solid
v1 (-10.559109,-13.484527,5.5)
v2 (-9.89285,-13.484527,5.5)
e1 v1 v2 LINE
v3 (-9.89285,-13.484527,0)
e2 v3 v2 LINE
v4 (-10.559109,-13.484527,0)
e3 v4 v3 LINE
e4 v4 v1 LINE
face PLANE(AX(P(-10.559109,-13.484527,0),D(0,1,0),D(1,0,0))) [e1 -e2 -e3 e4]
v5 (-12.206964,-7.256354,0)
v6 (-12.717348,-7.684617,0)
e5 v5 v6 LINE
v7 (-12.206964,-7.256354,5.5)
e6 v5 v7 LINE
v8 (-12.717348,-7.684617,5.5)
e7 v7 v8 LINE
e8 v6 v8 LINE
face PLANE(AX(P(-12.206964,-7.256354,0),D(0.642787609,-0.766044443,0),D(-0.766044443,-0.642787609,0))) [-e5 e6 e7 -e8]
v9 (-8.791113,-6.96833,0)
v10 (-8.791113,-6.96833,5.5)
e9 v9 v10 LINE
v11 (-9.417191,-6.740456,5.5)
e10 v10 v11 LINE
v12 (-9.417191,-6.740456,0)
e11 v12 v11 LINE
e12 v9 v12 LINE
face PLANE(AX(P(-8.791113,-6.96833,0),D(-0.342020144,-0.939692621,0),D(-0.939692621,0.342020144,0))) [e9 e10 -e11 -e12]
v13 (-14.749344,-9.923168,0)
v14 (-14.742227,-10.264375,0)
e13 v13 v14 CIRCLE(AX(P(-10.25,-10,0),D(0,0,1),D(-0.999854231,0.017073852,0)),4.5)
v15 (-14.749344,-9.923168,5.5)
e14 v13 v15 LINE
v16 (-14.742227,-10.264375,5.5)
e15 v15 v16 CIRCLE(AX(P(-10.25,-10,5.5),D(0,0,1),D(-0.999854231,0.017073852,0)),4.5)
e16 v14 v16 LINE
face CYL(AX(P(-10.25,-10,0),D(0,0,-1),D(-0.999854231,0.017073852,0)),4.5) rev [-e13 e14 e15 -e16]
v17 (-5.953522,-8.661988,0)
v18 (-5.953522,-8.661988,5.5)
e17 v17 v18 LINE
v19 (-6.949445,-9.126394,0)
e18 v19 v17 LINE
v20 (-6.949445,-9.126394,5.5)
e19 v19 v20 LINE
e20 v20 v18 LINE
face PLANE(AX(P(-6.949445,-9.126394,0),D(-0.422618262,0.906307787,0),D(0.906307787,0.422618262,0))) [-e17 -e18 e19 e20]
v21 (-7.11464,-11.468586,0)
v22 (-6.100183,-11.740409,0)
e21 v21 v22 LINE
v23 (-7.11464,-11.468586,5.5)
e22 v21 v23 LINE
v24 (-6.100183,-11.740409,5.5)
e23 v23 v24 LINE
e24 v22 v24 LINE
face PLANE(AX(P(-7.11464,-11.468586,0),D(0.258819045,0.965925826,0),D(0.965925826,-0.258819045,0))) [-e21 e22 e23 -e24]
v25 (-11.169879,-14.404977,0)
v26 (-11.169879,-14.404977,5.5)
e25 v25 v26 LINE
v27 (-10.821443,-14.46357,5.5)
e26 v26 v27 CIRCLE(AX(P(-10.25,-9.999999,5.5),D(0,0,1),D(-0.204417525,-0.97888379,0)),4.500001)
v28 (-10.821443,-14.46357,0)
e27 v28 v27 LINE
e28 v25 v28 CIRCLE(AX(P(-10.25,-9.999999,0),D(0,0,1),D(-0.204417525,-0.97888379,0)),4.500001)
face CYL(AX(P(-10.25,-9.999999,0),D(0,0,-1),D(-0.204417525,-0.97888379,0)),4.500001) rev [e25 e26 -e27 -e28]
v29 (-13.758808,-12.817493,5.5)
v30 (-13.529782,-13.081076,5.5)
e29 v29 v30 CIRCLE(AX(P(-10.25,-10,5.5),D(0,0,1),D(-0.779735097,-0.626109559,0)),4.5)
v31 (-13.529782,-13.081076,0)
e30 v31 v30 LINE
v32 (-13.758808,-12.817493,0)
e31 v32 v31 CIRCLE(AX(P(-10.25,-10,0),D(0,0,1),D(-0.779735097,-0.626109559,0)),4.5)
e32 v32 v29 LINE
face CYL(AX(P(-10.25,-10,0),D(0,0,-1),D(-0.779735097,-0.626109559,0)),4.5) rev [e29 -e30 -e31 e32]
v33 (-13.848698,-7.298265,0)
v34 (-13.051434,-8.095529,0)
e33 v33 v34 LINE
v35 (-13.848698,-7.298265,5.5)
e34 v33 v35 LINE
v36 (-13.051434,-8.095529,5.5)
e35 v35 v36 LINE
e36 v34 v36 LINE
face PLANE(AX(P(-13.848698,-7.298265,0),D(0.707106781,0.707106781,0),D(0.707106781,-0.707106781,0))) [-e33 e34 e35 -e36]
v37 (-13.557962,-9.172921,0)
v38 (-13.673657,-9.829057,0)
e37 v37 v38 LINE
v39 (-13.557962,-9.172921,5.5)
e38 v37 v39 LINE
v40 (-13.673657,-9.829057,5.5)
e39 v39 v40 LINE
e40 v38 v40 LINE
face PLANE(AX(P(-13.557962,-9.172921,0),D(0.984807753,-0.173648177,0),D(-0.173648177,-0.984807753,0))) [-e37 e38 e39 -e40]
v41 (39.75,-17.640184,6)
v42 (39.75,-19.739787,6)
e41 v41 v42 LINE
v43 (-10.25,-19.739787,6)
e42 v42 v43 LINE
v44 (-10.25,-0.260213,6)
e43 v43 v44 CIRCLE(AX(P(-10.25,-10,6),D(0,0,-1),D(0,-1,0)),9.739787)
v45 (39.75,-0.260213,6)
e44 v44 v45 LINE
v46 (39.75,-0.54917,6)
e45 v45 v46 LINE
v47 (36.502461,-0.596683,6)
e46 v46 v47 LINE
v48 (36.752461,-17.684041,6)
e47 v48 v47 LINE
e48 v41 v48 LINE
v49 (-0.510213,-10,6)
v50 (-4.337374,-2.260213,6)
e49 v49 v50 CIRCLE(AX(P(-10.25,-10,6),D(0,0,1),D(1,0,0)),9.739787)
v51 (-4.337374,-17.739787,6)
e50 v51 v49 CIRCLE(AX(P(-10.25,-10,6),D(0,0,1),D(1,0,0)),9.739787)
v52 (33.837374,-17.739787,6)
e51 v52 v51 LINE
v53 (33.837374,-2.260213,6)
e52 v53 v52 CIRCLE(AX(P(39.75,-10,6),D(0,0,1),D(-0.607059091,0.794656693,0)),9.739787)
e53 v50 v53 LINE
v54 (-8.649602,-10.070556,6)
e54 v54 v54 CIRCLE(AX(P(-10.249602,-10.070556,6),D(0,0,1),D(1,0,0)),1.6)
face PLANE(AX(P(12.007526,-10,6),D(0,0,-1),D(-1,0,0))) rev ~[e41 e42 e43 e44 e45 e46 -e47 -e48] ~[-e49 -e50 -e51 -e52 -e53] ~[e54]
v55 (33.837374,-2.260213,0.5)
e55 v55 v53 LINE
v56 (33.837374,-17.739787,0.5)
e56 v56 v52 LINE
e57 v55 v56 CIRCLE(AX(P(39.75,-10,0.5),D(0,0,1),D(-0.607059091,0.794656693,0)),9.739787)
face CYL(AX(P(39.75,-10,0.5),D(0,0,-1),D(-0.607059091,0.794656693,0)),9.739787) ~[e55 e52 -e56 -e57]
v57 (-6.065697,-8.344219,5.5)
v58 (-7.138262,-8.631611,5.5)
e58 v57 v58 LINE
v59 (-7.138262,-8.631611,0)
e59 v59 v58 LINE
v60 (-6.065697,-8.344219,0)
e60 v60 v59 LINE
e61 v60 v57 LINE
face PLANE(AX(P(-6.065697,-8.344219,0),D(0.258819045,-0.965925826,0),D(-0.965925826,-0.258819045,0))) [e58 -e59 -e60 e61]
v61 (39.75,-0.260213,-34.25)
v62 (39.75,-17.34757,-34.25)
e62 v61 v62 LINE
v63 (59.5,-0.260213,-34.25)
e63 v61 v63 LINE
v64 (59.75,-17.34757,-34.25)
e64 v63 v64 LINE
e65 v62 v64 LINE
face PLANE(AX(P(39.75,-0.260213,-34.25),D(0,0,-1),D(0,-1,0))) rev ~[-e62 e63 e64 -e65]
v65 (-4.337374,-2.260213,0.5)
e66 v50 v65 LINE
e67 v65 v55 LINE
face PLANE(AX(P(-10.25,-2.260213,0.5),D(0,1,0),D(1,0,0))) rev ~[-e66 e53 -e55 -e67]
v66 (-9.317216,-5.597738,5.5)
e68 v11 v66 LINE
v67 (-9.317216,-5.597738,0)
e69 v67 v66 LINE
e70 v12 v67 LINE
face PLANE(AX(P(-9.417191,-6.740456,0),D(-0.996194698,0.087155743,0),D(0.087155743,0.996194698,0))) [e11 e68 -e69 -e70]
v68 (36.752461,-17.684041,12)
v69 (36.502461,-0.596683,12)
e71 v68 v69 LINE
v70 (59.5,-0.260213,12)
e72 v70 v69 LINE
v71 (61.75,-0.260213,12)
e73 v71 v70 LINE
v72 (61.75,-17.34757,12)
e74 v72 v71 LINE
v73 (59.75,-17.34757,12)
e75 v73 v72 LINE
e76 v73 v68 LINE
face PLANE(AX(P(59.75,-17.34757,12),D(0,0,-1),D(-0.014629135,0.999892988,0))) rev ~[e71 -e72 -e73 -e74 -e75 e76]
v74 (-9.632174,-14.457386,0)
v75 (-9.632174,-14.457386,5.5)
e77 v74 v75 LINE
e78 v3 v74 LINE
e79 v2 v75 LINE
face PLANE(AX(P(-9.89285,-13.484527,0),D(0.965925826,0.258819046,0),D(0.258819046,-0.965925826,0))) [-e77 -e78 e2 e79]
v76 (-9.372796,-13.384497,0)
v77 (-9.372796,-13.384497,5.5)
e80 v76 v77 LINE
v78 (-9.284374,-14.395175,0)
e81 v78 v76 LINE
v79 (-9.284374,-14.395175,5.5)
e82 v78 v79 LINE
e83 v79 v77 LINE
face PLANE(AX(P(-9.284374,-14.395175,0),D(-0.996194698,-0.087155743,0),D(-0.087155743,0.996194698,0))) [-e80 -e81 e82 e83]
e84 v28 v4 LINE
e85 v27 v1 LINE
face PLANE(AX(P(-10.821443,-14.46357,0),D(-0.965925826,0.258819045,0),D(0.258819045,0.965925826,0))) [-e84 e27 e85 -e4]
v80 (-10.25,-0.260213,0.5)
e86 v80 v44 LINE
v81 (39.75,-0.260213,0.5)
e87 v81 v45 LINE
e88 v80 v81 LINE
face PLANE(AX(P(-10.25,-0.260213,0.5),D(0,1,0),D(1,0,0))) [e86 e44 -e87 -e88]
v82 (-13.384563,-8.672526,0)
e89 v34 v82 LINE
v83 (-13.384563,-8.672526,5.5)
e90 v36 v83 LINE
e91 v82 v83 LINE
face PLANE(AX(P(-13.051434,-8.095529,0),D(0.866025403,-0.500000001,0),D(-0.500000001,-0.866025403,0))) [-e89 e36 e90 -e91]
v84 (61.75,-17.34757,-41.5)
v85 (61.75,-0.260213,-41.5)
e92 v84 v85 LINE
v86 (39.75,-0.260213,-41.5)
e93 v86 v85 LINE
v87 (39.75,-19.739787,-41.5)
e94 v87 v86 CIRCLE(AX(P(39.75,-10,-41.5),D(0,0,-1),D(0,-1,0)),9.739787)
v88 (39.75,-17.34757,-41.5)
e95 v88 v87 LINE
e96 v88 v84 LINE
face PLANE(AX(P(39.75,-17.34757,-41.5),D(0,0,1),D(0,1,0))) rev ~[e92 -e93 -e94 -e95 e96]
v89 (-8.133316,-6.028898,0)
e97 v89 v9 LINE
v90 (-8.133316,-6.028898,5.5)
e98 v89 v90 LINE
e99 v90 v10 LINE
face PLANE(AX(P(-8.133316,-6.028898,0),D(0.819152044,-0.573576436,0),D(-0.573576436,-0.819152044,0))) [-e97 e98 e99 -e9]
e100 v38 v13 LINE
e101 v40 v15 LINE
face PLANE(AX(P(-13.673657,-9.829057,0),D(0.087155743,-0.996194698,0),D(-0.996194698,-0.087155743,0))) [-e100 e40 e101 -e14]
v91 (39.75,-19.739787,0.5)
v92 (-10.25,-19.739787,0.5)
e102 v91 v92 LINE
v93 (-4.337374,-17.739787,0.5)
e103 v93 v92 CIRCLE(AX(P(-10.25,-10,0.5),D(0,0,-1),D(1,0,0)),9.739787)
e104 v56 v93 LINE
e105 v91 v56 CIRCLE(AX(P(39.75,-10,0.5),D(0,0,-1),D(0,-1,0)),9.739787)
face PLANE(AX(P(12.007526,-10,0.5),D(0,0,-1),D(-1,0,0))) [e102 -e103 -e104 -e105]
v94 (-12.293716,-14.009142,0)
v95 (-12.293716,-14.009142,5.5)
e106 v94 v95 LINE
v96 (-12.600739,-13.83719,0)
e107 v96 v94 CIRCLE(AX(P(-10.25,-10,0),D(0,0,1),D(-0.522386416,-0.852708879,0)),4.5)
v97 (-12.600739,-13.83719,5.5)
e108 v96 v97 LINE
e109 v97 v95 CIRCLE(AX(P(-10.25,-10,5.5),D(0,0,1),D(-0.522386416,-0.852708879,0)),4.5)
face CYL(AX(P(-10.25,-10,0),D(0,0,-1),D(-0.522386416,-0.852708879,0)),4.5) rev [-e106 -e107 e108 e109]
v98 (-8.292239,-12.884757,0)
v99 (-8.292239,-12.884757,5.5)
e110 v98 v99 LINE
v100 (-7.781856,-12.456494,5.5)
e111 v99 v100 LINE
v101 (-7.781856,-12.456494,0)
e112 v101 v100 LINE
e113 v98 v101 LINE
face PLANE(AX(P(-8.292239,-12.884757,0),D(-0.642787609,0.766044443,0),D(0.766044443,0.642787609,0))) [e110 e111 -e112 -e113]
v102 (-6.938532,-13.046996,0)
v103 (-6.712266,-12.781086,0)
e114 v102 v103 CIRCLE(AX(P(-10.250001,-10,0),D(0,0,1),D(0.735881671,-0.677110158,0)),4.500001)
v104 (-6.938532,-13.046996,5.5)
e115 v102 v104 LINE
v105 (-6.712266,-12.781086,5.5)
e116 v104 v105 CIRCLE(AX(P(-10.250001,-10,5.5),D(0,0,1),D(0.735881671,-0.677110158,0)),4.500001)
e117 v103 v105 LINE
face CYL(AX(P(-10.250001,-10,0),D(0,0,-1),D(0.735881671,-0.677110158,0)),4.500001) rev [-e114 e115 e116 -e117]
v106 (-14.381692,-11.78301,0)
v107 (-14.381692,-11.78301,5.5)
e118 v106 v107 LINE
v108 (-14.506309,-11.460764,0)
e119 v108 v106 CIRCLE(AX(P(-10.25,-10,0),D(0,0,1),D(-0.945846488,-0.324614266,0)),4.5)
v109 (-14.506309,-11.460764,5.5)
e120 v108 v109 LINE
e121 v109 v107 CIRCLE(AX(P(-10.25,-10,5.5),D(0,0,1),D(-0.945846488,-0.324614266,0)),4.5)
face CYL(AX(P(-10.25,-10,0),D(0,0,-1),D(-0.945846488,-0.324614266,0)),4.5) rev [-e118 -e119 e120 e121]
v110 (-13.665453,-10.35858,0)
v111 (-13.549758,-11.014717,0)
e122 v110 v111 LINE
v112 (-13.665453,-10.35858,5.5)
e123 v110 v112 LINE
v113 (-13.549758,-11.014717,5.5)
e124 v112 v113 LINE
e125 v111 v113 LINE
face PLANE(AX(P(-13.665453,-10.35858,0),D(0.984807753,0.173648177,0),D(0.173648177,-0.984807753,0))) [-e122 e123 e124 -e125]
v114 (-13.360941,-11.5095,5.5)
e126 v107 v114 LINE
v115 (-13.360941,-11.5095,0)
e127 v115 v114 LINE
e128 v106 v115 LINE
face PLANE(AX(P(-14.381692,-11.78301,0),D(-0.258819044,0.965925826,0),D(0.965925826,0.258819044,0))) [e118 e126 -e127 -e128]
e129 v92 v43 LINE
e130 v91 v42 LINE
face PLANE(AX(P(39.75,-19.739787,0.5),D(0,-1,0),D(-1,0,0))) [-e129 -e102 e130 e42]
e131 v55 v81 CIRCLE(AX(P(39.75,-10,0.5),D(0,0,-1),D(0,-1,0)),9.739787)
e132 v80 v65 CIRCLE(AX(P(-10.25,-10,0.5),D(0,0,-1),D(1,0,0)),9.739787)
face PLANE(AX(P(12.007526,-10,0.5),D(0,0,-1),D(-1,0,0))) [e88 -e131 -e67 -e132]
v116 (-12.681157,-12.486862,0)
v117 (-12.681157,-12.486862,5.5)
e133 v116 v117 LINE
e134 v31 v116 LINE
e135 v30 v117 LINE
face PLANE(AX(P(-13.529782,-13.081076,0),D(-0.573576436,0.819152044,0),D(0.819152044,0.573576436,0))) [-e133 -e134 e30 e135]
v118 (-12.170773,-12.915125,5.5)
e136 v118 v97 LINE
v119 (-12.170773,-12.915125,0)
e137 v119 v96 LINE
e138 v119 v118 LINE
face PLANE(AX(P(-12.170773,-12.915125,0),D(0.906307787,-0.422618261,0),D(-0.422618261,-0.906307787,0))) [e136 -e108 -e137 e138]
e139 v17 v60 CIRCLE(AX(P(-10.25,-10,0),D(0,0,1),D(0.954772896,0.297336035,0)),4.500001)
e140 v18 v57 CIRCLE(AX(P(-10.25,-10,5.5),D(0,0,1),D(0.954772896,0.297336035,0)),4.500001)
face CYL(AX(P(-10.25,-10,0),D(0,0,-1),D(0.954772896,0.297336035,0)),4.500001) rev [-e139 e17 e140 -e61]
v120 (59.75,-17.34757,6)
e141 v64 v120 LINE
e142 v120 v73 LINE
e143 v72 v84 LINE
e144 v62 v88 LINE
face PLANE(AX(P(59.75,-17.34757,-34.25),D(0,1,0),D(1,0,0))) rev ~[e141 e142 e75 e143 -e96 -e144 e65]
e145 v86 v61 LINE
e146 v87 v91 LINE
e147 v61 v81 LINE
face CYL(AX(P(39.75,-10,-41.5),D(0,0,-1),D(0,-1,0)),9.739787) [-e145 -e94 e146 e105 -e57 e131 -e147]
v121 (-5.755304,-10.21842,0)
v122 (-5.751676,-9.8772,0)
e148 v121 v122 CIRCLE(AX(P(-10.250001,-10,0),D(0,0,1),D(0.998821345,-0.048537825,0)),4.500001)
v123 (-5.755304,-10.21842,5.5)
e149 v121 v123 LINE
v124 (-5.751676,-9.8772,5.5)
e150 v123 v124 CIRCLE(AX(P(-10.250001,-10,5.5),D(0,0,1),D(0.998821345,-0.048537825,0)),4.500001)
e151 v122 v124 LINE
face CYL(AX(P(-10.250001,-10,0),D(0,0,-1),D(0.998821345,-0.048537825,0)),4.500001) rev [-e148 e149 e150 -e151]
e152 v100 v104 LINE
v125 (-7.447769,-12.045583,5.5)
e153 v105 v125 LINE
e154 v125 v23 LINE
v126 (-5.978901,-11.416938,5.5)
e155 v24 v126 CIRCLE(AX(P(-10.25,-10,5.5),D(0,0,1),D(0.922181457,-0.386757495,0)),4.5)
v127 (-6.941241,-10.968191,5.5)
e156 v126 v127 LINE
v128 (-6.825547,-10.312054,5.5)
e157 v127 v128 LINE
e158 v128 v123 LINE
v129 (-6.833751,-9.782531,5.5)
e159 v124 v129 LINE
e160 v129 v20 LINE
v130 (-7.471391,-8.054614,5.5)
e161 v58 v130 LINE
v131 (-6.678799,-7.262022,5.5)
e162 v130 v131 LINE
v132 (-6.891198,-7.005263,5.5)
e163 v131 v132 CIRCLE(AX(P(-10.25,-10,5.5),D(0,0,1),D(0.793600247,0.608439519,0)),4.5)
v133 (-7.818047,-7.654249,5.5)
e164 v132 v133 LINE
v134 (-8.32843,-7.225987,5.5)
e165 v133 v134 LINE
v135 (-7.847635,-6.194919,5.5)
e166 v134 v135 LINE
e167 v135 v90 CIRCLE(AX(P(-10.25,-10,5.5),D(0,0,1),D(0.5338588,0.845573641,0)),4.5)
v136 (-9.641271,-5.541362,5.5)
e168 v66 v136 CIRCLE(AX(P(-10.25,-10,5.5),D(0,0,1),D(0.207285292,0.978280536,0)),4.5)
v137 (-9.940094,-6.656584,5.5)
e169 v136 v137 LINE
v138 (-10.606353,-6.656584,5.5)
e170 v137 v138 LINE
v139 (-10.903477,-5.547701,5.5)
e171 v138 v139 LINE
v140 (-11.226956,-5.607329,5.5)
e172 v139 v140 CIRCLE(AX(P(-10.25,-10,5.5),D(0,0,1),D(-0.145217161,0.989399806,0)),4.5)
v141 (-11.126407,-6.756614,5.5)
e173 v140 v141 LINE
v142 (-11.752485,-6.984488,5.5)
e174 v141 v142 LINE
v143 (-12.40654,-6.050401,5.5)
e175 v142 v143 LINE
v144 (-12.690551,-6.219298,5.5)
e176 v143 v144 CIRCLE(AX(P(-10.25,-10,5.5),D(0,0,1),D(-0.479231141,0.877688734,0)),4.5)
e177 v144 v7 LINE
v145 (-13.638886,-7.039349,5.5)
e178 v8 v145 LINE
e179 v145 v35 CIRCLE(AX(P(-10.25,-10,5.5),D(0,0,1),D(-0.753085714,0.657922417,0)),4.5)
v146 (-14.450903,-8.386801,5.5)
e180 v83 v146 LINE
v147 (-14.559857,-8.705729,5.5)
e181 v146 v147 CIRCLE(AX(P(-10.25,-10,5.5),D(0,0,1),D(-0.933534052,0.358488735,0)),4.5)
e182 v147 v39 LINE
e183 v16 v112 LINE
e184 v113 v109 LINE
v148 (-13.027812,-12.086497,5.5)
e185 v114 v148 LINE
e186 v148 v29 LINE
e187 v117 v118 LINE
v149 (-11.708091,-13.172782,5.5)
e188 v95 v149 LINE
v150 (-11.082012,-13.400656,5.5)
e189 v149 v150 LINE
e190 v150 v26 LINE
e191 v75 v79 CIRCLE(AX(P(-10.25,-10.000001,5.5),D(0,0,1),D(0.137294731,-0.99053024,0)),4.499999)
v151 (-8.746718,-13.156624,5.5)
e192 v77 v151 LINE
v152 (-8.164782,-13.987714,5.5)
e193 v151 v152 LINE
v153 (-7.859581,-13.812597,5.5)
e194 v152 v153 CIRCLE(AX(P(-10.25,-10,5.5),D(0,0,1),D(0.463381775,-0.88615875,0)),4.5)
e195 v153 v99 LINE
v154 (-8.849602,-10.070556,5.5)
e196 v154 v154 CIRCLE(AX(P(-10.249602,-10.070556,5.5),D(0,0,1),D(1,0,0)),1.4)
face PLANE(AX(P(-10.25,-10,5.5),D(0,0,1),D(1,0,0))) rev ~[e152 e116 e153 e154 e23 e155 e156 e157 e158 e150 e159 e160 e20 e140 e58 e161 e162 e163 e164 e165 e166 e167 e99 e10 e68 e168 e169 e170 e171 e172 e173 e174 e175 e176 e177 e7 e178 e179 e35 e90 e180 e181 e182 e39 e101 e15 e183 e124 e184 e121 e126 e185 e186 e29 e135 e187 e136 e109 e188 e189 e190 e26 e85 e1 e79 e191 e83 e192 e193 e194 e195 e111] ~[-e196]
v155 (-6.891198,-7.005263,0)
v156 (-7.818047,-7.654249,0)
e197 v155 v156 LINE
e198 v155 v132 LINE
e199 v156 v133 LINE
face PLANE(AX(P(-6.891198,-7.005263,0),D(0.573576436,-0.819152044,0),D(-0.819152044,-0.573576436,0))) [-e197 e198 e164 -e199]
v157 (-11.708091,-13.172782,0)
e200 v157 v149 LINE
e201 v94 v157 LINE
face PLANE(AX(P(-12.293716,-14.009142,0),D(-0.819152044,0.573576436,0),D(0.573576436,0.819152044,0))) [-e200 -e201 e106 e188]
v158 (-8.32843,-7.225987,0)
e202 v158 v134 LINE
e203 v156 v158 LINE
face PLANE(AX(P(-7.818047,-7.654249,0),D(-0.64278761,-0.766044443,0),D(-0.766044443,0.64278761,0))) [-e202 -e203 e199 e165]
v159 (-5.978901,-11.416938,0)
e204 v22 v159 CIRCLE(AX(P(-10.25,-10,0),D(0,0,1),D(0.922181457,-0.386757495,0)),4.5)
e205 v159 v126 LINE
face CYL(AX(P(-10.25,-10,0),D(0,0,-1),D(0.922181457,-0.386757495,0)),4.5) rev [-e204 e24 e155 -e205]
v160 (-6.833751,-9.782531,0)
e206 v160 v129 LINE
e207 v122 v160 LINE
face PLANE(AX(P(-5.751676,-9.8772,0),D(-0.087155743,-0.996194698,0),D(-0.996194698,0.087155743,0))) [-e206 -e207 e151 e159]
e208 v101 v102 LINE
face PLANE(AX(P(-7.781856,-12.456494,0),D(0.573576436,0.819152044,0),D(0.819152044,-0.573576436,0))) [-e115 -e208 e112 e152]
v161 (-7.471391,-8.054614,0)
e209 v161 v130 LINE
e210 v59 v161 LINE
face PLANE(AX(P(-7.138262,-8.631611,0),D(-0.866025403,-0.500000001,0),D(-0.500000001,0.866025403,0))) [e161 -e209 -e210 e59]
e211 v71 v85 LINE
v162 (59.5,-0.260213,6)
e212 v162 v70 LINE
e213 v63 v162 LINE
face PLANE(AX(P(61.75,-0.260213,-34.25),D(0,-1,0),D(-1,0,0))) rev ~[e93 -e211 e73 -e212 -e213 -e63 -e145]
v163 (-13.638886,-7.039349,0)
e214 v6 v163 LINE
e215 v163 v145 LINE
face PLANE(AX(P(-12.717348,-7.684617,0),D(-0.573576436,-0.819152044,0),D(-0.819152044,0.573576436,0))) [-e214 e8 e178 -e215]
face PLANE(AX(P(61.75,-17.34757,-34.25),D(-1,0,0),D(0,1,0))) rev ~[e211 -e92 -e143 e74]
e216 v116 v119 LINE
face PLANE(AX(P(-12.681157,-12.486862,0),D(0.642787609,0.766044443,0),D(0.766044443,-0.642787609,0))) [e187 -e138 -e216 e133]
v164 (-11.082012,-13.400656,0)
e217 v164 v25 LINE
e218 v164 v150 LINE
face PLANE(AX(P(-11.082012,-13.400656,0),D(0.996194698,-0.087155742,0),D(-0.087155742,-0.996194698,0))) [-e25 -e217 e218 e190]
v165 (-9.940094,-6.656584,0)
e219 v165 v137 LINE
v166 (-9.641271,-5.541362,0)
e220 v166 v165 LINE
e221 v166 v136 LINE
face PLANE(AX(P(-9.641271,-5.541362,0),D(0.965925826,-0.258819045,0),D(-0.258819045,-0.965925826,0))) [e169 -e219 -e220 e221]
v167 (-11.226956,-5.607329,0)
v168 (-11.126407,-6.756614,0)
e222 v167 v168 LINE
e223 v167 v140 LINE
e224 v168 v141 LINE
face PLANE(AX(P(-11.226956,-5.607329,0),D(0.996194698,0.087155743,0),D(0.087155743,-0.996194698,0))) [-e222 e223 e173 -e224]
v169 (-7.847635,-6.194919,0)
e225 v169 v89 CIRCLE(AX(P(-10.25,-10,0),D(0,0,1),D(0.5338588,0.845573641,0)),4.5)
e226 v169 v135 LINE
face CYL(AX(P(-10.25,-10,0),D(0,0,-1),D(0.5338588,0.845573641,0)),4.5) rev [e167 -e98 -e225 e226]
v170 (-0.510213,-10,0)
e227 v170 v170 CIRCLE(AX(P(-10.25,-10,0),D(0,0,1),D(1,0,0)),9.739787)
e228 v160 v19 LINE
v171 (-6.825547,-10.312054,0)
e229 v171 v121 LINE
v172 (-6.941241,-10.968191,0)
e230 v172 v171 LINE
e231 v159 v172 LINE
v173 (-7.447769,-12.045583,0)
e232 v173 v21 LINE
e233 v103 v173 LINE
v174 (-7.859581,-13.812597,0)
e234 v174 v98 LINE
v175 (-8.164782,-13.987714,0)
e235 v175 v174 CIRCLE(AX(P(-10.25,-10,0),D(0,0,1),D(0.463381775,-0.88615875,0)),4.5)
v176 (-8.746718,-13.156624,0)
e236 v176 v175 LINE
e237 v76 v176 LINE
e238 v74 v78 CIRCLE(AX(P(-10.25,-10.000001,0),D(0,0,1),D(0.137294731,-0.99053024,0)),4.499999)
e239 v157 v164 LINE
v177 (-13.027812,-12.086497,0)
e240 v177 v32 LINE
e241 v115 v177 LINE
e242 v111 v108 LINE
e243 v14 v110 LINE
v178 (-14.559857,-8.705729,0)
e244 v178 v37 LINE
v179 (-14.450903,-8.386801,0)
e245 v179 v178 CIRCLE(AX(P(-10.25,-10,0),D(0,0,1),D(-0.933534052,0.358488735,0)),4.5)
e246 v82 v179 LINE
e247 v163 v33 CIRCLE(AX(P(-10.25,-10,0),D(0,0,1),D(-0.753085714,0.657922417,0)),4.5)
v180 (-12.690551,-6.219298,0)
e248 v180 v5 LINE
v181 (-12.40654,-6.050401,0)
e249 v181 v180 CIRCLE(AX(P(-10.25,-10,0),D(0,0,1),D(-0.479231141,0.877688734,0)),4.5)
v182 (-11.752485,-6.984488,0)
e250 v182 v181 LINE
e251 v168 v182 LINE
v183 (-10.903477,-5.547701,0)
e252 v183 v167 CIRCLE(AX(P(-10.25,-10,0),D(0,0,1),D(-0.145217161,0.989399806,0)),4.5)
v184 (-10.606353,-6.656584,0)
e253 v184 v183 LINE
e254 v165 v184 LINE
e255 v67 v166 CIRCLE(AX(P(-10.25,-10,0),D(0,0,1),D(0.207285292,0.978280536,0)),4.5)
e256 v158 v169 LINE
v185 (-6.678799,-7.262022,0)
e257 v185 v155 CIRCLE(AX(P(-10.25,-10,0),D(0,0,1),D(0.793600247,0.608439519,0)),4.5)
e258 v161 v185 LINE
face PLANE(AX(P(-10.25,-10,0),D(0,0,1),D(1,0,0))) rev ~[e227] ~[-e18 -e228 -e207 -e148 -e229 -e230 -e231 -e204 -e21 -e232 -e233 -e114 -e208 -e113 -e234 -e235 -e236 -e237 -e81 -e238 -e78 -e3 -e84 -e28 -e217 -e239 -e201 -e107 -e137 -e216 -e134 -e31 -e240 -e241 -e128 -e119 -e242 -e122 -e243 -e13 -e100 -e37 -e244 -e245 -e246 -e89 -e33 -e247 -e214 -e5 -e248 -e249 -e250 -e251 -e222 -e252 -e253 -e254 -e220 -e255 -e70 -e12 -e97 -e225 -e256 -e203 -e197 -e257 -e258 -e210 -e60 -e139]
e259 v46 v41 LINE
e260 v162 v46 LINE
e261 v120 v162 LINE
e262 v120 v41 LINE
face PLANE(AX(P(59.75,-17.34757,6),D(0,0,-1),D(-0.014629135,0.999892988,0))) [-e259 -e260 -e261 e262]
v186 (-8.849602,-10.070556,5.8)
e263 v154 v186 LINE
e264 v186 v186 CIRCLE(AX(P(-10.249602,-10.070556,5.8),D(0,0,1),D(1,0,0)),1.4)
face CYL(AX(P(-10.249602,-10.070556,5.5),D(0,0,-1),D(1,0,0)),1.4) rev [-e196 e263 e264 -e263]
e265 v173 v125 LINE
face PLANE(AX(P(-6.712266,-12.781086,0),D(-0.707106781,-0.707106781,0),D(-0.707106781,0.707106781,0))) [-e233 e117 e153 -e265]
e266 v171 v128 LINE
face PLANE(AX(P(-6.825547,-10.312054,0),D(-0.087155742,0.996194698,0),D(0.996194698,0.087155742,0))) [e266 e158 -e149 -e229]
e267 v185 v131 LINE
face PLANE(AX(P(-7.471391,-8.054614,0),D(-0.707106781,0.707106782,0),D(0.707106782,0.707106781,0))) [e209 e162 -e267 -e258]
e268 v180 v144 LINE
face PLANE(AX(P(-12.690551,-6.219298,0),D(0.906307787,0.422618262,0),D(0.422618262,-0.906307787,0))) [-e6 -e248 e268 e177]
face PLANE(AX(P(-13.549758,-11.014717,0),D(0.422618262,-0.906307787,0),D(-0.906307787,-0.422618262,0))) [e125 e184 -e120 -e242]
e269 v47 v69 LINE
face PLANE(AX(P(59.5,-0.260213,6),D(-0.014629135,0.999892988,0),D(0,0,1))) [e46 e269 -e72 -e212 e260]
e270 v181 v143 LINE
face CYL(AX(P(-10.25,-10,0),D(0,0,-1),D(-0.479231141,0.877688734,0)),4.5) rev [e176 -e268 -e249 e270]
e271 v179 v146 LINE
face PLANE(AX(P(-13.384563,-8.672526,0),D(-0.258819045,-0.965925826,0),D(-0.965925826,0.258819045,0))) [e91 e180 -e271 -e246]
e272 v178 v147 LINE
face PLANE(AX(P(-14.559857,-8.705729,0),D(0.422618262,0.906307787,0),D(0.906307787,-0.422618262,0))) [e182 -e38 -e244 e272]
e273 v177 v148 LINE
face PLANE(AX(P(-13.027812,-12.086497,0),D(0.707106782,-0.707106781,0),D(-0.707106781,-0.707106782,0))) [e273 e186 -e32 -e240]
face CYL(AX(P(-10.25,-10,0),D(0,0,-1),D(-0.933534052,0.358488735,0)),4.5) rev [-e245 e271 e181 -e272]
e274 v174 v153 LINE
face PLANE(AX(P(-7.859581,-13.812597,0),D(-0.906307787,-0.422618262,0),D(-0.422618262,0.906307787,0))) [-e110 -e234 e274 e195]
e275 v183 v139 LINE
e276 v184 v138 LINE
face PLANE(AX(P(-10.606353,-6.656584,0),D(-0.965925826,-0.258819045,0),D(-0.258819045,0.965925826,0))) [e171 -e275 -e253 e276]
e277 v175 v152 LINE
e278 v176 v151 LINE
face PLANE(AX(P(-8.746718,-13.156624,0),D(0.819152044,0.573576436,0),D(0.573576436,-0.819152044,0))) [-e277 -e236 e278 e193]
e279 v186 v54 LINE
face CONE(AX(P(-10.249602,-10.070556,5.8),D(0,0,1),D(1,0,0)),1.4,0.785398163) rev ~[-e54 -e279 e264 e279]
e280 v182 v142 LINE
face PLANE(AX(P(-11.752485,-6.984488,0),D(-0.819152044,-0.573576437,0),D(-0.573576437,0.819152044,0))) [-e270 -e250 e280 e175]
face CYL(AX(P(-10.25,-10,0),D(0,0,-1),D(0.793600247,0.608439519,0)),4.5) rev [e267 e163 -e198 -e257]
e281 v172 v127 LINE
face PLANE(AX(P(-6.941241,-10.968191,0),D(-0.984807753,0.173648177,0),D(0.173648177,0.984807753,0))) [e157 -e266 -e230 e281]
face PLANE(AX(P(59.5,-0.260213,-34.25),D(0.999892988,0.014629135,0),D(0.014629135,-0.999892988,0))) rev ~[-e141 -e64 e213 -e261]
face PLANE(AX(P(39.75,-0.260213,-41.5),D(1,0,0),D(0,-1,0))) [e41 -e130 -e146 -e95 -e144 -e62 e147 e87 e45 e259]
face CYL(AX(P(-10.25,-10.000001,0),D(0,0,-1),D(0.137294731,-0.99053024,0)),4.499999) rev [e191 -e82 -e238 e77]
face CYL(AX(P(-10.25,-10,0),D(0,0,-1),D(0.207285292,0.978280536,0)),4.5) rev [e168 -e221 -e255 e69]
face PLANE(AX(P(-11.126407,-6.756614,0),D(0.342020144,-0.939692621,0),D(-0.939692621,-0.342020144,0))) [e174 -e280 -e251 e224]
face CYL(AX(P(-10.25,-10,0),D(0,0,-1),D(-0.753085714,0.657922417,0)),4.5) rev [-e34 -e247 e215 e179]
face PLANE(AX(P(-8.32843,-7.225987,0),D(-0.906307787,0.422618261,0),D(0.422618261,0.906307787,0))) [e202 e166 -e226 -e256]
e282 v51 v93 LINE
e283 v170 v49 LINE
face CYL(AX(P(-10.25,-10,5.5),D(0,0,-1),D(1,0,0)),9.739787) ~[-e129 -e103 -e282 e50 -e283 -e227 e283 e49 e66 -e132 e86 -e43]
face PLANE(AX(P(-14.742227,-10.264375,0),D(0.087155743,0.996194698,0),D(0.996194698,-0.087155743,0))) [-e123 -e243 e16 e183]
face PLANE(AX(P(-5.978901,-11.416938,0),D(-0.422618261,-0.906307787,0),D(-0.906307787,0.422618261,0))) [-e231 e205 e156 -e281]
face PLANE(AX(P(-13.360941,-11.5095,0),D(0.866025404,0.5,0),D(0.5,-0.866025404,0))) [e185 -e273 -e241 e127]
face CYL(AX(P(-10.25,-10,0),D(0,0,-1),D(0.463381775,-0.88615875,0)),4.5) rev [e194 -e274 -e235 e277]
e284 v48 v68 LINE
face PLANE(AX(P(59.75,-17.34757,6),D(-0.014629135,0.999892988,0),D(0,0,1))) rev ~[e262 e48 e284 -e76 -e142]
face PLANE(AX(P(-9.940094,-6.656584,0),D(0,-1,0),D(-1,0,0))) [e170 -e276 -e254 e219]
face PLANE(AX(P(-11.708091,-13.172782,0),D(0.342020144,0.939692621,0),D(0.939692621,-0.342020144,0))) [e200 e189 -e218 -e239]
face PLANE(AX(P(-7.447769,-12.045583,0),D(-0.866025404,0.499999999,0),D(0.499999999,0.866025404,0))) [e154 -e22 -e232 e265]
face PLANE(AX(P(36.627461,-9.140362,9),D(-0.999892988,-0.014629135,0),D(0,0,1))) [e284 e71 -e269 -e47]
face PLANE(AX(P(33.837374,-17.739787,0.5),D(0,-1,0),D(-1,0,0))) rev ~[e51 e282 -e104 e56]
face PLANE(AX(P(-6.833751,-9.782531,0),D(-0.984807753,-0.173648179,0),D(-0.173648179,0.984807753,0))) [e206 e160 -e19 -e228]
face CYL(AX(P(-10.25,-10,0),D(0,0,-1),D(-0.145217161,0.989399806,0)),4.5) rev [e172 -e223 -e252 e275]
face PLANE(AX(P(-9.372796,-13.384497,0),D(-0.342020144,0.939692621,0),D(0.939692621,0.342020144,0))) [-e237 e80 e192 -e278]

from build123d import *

# Parameters (mm, degrees)
ESQUISSE1_R        = 9.739786638
BOSS_EXTRU_1_DEPTH = 5.5
ESQUISSE2_R        = 9.739786638
ESQUISSE2_R_2      = 1.4
BOSS_EXTRU_2_DEPTH = 0.5
CHANFREIN1_SIZE    = 0.2
BOSS_EXTRU_3_START = -5.5
BOSS_EXTRU_3_DEPTH = 5.5
BOSS_EXTRU_4_START = 42
BOSS_EXTRU_4_DEPTH = 42
BOSS_EXTRU_5_DEPTH = 22
BOSS_EXTRU_6_DEPTH = 46.25
ESQUISSE7_W        = 6
ESQUISSE7_H        = 17.089185867
BOSS_EXTRU_7_DEPTH = 23


with BuildPart() as part:
    # Esquisse1 → Boss.-Extru.1 (new body)
    with BuildSketch(Plane.XY):
        with Locations((-10.25, -10)):
            Circle(ESQUISSE1_R)
        with BuildLine():
            Line((-5.751675839, -9.877200395), (-6.833750507, -9.782531128))
            Line((-6.833750507, -9.782531128), (-6.949445107, -9.126394451))
            Line((-6.949445107, -9.126394451), (-5.953521963, -8.661987862))
            ThreePointArc((-5.953521963, -8.661987862), (-6.006634107, -8.502052772), (-6.065697468, -8.344218516))
            Line((-6.065697468, -8.344218516), (-7.138261768, -8.631611254))
            Line((-7.138261768, -8.631611254), (-7.47139109, -8.054614344))
            Line((-7.47139109, -8.054614344), (-6.678798898, -7.262022153))
            ThreePointArc((-6.678798898, -7.262022153), (-6.782621037, -7.131675902), (-6.891198054, -7.005263035))
            Line((-6.891198054, -7.005263035), (-7.818046533, -7.654249327))
            Line((-7.818046533, -7.654249327), (-8.328430264, -7.225986526))
            Line((-8.328430264, -7.225986526), (-7.847635402, -6.194918616))
            ThreePointArc((-7.847635402, -6.194918616), (-7.988951343, -6.109285545), (-8.133315872, -6.028898352))
            Line((-8.133315872, -6.028898352), (-8.791112727, -6.968329619))
            Line((-8.791112727, -6.968329619), (-9.417191057, -6.740455742))
            Line((-9.417191057, -6.740455742), (-9.317216173, -5.597737589))
            ThreePointArc((-9.317216173, -5.597737589), (-9.478728542, -5.566588183), (-9.641271425, -5.541362369))
            Line((-9.641271425, -5.541362369), (-9.940094206, -6.656584169))
            Line((-9.940094206, -6.656584169), (-10.606352849, -6.656584169))
            Line((-10.606352849, -6.656584169), (-10.903477232, -5.547700874))
            ThreePointArc((-10.903477232, -5.547700874), (-11.065761738, -5.574558464), (-11.226956242, -5.607329229))
            Line((-11.226956242, -5.607329229), (-11.126406846, -6.756614081))
            Line((-11.126406846, -6.756614081), (-11.752485176, -6.984487958))
            Line((-11.752485176, -6.984487958), (-12.406540122, -6.050400691))
            ThreePointArc((-12.406540122, -6.050400691), (-12.550096477, -6.132241451), (-12.690551241, -6.219297732))
            Line((-12.690551241, -6.219297732), (-12.206963835, -7.256354271))
            Line((-12.206963835, -7.256354271), (-12.717347566, -7.684617071))
            Line((-12.717347566, -7.684617071), (-13.638885709, -7.039349117))
            ThreePointArc((-13.638885709, -7.039349117), (-13.74618945, -7.166864047), (-13.848697947, -7.298264801))
            Line((-13.848697947, -7.298264801), (-13.051434053, -8.095528695))
            Line((-13.051434053, -8.095528695), (-13.384563375, -8.672525605))
            Line((-13.384563375, -8.672525605), (-14.450903238, -8.3868007))
            ThreePointArc((-14.450903238, -8.3868007), (-14.508366703, -8.545244687), (-14.559856563, -8.705729393))
            Line((-14.559856563, -8.705729393), (-13.557961929, -9.172920534))
            Line((-13.557961929, -9.172920534), (-13.673656528, -9.829057211))
            Line((-13.673656528, -9.829057211), (-14.74934404, -9.923167674))
            ThreePointArc((-14.74934404, -9.923167674), (-14.749021481, -10.093838761), (-14.74222728, -10.264374865))
            Line((-14.74222728, -10.264374865), (-13.665452724, -10.358580432))
            Line((-13.665452724, -10.358580432), (-13.549758125, -11.014717109))
            Line((-13.549758125, -11.014717109), (-14.506309194, -11.460764198))
            ThreePointArc((-14.506309194, -11.460764198), (-14.447094307, -11.623083293), (-14.381691786, -11.78300953))
            Line((-14.381691786, -11.78300953), (-13.360941463, -11.509500306))
            Line((-13.360941463, -11.509500306), (-13.027812142, -12.086497216))
            Line((-13.027812142, -12.086497216), (-13.758807936, -12.817493011))
            ThreePointArc((-13.758807936, -12.817493011), (-13.646852578, -12.951506829), (-13.529782028, -13.081076086))
            Line((-13.529782028, -13.081076086), (-12.681156698, -12.486862233))
            Line((-12.681156698, -12.486862233), (-12.170772967, -12.915125033))
            Line((-12.170772967, -12.915125033), (-12.600738895, -13.837189942))
            ThreePointArc((-12.600738895, -13.837189942), (-12.448909121, -13.926168447), (-12.293716433, -14.009142444))
            Line((-12.293716433, -14.009142444), (-11.708090504, -13.172781941))
            Line((-11.708090504, -13.172781941), (-11.082012174, -13.400655818))
            Line((-11.082012174, -13.400655818), (-11.169878896, -14.404977051))
            ThreePointArc((-11.169878896, -14.404977051), (-10.996236031, -14.437694422), (-10.821442589, -14.463569577))
            Line((-10.821442589, -14.463569577), (-10.559109026, -13.48452739))
            Line((-10.559109026, -13.48452739), (-9.892850383, -13.48452739))
            Line((-9.892850383, -13.48452739), (-9.632173683, -14.457386077))
            ThreePointArc((-9.632173683, -14.457386077), (-9.45766281, -14.42969545), (-9.284373537, -14.395175256))
            Line((-9.284373537, -14.395175256), (-9.372796385, -13.384497479))
            Line((-9.372796385, -13.384497479), (-8.746718055, -13.156623602))
            Line((-8.746718055, -13.156623602), (-8.164782025, -13.987714383))
            ThreePointArc((-8.164782025, -13.987714383), (-8.010469052, -13.903139907), (-7.859580663, -13.812596936))
            Line((-7.859580663, -13.812596936), (-8.292239396, -12.884757289))
            Line((-8.292239396, -12.884757289), (-7.781855665, -12.456494489))
            Line((-7.781855665, -12.456494489), (-6.938532496, -13.046995729))
            ThreePointArc((-6.938532496, -13.046995729), (-6.822819391, -12.916236114), (-6.712266113, -12.78108593))
            Line((-6.712266113, -12.78108593), (-7.447769178, -12.045582865))
            Line((-7.447769178, -12.045582865), (-7.114639857, -11.468585954))
            Line((-7.114639857, -11.468585954), (-6.100183444, -11.740408731))
            ThreePointArc((-6.100183444, -11.740408731), (-6.036436962, -11.579837499), (-5.978900904, -11.416937723))
            Line((-5.978900904, -11.416937723), (-6.941241303, -10.968191026))
            Line((-6.941241303, -10.968191026), (-6.825546704, -10.312054348))
            Line((-6.825546704, -10.312054348), (-5.755303948, -10.21842024))
            ThreePointArc((-5.755303948, -10.21842024), (-5.750254354, -10.04784472), (-5.751675839, -9.877200395))
        make_face(mode=Mode.SUBTRACT)
    extrude(amount=BOSS_EXTRU_1_DEPTH)

    # Esquisse2 → Boss.-Extru.2 (add)
    with BuildSketch(Plane.XY.offset(5.5)):
        with Locations((-10.25, -10)):
            Circle(ESQUISSE2_R)
        with Locations((-10.249601616, -10.07055578)):
            Circle(ESQUISSE2_R_2, mode=Mode.SUBTRACT)
    extrude(amount=BOSS_EXTRU_2_DEPTH)

    # Chanfrein1
    chanfrein1_edges = [part.edges().sort_by_distance(p)[0] for p in [
        (-11.649601616, -10.07055578, 6),
    ]]
    chamfer(chanfrein1_edges, length=CHANFREIN1_SIZE)

    # Esquisse3 → Boss.-Extru.3 (add)
    with BuildSketch(Plane.XY.offset(6).offset(BOSS_EXTRU_3_START)):
        with BuildLine():
            Line((-10.25, -0.260213362), (39.75, -0.260213362))
            Line((39.75, -0.260213362), (39.75, -19.739786638))
            Line((39.75, -19.739786638), (-10.25, -19.739786638))
            ThreePointArc((-10.25, -19.739786638), (-19.989786638, -10), (-10.25, -0.260213362))
        make_face()
        with BuildLine():
            Line((33.837373972, -17.739786638), (-10.25, -17.739786638))
            ThreePointArc((-10.25, -17.739786638), (-17.989786638, -10), (-10.25, -2.260213362))
            Line((-10.25, -2.260213362), (33.837373972, -2.260213362))
            ThreePointArc((33.837373972, -2.260213362), (30.010213362, -10), (33.837373972, -17.739786638))
        make_face(mode=Mode.SUBTRACT)
    extrude(amount=BOSS_EXTRU_3_DEPTH)

    # Esquisse4 → Boss.-Extru.4 (add)
    with BuildSketch(Plane(origin=(0, 0, 0.5), x_dir=(-1, 0, 0), z_dir=(0, 0, -1)).offset(BOSS_EXTRU_4_START)):
        with BuildLine():
            Line((-39.75, -0.260213362), (-39.75, -19.739786638))
            ThreePointArc((-39.75, -19.739786638), (-30.010213362, -10), (-39.75, -0.260213362))
        make_face()
    extrude(amount=-BOSS_EXTRU_4_DEPTH)

    # Esquisse5 → Boss.-Extru.5 (add)
    with BuildSketch(Plane(origin=(39.75, 0, 0), x_dir=(0, 0, -1), z_dir=(1, 0, 0))):
        Polygon((34.25, -0.260213362), (34.25, -17.347570489), (39.5, -17.347570489), (41.5, -17.347570489), (41.5, -0.260213362), align=None)
    extrude(amount=BOSS_EXTRU_5_DEPTH)

    # Esquisse6 → Boss.-Extru.6 (add)
    with BuildSketch(Plane.XY.offset(-34.25)):
        Polygon((61.75, -0.260213362), (59.5, -0.260213362), (59.75, -17.347570489), (61.75, -17.347570489), align=None)
    extrude(amount=BOSS_EXTRU_6_DEPTH)

    # Esquisse7 → Boss.-Extru.7 (add)
    with BuildSketch(Plane(origin=(59.483460022, 0.870284673, 0), x_dir=(0, 0, 1), z_dir=(-0.9998929884849062, -0.014629134585590956, 0))):
        with Locations((9, -9.675211958)):
            Rectangle(ESQUISSE7_W, ESQUISSE7_H)
    extrude(amount=BOSS_EXTRU_7_DEPTH)


solid = part.part
